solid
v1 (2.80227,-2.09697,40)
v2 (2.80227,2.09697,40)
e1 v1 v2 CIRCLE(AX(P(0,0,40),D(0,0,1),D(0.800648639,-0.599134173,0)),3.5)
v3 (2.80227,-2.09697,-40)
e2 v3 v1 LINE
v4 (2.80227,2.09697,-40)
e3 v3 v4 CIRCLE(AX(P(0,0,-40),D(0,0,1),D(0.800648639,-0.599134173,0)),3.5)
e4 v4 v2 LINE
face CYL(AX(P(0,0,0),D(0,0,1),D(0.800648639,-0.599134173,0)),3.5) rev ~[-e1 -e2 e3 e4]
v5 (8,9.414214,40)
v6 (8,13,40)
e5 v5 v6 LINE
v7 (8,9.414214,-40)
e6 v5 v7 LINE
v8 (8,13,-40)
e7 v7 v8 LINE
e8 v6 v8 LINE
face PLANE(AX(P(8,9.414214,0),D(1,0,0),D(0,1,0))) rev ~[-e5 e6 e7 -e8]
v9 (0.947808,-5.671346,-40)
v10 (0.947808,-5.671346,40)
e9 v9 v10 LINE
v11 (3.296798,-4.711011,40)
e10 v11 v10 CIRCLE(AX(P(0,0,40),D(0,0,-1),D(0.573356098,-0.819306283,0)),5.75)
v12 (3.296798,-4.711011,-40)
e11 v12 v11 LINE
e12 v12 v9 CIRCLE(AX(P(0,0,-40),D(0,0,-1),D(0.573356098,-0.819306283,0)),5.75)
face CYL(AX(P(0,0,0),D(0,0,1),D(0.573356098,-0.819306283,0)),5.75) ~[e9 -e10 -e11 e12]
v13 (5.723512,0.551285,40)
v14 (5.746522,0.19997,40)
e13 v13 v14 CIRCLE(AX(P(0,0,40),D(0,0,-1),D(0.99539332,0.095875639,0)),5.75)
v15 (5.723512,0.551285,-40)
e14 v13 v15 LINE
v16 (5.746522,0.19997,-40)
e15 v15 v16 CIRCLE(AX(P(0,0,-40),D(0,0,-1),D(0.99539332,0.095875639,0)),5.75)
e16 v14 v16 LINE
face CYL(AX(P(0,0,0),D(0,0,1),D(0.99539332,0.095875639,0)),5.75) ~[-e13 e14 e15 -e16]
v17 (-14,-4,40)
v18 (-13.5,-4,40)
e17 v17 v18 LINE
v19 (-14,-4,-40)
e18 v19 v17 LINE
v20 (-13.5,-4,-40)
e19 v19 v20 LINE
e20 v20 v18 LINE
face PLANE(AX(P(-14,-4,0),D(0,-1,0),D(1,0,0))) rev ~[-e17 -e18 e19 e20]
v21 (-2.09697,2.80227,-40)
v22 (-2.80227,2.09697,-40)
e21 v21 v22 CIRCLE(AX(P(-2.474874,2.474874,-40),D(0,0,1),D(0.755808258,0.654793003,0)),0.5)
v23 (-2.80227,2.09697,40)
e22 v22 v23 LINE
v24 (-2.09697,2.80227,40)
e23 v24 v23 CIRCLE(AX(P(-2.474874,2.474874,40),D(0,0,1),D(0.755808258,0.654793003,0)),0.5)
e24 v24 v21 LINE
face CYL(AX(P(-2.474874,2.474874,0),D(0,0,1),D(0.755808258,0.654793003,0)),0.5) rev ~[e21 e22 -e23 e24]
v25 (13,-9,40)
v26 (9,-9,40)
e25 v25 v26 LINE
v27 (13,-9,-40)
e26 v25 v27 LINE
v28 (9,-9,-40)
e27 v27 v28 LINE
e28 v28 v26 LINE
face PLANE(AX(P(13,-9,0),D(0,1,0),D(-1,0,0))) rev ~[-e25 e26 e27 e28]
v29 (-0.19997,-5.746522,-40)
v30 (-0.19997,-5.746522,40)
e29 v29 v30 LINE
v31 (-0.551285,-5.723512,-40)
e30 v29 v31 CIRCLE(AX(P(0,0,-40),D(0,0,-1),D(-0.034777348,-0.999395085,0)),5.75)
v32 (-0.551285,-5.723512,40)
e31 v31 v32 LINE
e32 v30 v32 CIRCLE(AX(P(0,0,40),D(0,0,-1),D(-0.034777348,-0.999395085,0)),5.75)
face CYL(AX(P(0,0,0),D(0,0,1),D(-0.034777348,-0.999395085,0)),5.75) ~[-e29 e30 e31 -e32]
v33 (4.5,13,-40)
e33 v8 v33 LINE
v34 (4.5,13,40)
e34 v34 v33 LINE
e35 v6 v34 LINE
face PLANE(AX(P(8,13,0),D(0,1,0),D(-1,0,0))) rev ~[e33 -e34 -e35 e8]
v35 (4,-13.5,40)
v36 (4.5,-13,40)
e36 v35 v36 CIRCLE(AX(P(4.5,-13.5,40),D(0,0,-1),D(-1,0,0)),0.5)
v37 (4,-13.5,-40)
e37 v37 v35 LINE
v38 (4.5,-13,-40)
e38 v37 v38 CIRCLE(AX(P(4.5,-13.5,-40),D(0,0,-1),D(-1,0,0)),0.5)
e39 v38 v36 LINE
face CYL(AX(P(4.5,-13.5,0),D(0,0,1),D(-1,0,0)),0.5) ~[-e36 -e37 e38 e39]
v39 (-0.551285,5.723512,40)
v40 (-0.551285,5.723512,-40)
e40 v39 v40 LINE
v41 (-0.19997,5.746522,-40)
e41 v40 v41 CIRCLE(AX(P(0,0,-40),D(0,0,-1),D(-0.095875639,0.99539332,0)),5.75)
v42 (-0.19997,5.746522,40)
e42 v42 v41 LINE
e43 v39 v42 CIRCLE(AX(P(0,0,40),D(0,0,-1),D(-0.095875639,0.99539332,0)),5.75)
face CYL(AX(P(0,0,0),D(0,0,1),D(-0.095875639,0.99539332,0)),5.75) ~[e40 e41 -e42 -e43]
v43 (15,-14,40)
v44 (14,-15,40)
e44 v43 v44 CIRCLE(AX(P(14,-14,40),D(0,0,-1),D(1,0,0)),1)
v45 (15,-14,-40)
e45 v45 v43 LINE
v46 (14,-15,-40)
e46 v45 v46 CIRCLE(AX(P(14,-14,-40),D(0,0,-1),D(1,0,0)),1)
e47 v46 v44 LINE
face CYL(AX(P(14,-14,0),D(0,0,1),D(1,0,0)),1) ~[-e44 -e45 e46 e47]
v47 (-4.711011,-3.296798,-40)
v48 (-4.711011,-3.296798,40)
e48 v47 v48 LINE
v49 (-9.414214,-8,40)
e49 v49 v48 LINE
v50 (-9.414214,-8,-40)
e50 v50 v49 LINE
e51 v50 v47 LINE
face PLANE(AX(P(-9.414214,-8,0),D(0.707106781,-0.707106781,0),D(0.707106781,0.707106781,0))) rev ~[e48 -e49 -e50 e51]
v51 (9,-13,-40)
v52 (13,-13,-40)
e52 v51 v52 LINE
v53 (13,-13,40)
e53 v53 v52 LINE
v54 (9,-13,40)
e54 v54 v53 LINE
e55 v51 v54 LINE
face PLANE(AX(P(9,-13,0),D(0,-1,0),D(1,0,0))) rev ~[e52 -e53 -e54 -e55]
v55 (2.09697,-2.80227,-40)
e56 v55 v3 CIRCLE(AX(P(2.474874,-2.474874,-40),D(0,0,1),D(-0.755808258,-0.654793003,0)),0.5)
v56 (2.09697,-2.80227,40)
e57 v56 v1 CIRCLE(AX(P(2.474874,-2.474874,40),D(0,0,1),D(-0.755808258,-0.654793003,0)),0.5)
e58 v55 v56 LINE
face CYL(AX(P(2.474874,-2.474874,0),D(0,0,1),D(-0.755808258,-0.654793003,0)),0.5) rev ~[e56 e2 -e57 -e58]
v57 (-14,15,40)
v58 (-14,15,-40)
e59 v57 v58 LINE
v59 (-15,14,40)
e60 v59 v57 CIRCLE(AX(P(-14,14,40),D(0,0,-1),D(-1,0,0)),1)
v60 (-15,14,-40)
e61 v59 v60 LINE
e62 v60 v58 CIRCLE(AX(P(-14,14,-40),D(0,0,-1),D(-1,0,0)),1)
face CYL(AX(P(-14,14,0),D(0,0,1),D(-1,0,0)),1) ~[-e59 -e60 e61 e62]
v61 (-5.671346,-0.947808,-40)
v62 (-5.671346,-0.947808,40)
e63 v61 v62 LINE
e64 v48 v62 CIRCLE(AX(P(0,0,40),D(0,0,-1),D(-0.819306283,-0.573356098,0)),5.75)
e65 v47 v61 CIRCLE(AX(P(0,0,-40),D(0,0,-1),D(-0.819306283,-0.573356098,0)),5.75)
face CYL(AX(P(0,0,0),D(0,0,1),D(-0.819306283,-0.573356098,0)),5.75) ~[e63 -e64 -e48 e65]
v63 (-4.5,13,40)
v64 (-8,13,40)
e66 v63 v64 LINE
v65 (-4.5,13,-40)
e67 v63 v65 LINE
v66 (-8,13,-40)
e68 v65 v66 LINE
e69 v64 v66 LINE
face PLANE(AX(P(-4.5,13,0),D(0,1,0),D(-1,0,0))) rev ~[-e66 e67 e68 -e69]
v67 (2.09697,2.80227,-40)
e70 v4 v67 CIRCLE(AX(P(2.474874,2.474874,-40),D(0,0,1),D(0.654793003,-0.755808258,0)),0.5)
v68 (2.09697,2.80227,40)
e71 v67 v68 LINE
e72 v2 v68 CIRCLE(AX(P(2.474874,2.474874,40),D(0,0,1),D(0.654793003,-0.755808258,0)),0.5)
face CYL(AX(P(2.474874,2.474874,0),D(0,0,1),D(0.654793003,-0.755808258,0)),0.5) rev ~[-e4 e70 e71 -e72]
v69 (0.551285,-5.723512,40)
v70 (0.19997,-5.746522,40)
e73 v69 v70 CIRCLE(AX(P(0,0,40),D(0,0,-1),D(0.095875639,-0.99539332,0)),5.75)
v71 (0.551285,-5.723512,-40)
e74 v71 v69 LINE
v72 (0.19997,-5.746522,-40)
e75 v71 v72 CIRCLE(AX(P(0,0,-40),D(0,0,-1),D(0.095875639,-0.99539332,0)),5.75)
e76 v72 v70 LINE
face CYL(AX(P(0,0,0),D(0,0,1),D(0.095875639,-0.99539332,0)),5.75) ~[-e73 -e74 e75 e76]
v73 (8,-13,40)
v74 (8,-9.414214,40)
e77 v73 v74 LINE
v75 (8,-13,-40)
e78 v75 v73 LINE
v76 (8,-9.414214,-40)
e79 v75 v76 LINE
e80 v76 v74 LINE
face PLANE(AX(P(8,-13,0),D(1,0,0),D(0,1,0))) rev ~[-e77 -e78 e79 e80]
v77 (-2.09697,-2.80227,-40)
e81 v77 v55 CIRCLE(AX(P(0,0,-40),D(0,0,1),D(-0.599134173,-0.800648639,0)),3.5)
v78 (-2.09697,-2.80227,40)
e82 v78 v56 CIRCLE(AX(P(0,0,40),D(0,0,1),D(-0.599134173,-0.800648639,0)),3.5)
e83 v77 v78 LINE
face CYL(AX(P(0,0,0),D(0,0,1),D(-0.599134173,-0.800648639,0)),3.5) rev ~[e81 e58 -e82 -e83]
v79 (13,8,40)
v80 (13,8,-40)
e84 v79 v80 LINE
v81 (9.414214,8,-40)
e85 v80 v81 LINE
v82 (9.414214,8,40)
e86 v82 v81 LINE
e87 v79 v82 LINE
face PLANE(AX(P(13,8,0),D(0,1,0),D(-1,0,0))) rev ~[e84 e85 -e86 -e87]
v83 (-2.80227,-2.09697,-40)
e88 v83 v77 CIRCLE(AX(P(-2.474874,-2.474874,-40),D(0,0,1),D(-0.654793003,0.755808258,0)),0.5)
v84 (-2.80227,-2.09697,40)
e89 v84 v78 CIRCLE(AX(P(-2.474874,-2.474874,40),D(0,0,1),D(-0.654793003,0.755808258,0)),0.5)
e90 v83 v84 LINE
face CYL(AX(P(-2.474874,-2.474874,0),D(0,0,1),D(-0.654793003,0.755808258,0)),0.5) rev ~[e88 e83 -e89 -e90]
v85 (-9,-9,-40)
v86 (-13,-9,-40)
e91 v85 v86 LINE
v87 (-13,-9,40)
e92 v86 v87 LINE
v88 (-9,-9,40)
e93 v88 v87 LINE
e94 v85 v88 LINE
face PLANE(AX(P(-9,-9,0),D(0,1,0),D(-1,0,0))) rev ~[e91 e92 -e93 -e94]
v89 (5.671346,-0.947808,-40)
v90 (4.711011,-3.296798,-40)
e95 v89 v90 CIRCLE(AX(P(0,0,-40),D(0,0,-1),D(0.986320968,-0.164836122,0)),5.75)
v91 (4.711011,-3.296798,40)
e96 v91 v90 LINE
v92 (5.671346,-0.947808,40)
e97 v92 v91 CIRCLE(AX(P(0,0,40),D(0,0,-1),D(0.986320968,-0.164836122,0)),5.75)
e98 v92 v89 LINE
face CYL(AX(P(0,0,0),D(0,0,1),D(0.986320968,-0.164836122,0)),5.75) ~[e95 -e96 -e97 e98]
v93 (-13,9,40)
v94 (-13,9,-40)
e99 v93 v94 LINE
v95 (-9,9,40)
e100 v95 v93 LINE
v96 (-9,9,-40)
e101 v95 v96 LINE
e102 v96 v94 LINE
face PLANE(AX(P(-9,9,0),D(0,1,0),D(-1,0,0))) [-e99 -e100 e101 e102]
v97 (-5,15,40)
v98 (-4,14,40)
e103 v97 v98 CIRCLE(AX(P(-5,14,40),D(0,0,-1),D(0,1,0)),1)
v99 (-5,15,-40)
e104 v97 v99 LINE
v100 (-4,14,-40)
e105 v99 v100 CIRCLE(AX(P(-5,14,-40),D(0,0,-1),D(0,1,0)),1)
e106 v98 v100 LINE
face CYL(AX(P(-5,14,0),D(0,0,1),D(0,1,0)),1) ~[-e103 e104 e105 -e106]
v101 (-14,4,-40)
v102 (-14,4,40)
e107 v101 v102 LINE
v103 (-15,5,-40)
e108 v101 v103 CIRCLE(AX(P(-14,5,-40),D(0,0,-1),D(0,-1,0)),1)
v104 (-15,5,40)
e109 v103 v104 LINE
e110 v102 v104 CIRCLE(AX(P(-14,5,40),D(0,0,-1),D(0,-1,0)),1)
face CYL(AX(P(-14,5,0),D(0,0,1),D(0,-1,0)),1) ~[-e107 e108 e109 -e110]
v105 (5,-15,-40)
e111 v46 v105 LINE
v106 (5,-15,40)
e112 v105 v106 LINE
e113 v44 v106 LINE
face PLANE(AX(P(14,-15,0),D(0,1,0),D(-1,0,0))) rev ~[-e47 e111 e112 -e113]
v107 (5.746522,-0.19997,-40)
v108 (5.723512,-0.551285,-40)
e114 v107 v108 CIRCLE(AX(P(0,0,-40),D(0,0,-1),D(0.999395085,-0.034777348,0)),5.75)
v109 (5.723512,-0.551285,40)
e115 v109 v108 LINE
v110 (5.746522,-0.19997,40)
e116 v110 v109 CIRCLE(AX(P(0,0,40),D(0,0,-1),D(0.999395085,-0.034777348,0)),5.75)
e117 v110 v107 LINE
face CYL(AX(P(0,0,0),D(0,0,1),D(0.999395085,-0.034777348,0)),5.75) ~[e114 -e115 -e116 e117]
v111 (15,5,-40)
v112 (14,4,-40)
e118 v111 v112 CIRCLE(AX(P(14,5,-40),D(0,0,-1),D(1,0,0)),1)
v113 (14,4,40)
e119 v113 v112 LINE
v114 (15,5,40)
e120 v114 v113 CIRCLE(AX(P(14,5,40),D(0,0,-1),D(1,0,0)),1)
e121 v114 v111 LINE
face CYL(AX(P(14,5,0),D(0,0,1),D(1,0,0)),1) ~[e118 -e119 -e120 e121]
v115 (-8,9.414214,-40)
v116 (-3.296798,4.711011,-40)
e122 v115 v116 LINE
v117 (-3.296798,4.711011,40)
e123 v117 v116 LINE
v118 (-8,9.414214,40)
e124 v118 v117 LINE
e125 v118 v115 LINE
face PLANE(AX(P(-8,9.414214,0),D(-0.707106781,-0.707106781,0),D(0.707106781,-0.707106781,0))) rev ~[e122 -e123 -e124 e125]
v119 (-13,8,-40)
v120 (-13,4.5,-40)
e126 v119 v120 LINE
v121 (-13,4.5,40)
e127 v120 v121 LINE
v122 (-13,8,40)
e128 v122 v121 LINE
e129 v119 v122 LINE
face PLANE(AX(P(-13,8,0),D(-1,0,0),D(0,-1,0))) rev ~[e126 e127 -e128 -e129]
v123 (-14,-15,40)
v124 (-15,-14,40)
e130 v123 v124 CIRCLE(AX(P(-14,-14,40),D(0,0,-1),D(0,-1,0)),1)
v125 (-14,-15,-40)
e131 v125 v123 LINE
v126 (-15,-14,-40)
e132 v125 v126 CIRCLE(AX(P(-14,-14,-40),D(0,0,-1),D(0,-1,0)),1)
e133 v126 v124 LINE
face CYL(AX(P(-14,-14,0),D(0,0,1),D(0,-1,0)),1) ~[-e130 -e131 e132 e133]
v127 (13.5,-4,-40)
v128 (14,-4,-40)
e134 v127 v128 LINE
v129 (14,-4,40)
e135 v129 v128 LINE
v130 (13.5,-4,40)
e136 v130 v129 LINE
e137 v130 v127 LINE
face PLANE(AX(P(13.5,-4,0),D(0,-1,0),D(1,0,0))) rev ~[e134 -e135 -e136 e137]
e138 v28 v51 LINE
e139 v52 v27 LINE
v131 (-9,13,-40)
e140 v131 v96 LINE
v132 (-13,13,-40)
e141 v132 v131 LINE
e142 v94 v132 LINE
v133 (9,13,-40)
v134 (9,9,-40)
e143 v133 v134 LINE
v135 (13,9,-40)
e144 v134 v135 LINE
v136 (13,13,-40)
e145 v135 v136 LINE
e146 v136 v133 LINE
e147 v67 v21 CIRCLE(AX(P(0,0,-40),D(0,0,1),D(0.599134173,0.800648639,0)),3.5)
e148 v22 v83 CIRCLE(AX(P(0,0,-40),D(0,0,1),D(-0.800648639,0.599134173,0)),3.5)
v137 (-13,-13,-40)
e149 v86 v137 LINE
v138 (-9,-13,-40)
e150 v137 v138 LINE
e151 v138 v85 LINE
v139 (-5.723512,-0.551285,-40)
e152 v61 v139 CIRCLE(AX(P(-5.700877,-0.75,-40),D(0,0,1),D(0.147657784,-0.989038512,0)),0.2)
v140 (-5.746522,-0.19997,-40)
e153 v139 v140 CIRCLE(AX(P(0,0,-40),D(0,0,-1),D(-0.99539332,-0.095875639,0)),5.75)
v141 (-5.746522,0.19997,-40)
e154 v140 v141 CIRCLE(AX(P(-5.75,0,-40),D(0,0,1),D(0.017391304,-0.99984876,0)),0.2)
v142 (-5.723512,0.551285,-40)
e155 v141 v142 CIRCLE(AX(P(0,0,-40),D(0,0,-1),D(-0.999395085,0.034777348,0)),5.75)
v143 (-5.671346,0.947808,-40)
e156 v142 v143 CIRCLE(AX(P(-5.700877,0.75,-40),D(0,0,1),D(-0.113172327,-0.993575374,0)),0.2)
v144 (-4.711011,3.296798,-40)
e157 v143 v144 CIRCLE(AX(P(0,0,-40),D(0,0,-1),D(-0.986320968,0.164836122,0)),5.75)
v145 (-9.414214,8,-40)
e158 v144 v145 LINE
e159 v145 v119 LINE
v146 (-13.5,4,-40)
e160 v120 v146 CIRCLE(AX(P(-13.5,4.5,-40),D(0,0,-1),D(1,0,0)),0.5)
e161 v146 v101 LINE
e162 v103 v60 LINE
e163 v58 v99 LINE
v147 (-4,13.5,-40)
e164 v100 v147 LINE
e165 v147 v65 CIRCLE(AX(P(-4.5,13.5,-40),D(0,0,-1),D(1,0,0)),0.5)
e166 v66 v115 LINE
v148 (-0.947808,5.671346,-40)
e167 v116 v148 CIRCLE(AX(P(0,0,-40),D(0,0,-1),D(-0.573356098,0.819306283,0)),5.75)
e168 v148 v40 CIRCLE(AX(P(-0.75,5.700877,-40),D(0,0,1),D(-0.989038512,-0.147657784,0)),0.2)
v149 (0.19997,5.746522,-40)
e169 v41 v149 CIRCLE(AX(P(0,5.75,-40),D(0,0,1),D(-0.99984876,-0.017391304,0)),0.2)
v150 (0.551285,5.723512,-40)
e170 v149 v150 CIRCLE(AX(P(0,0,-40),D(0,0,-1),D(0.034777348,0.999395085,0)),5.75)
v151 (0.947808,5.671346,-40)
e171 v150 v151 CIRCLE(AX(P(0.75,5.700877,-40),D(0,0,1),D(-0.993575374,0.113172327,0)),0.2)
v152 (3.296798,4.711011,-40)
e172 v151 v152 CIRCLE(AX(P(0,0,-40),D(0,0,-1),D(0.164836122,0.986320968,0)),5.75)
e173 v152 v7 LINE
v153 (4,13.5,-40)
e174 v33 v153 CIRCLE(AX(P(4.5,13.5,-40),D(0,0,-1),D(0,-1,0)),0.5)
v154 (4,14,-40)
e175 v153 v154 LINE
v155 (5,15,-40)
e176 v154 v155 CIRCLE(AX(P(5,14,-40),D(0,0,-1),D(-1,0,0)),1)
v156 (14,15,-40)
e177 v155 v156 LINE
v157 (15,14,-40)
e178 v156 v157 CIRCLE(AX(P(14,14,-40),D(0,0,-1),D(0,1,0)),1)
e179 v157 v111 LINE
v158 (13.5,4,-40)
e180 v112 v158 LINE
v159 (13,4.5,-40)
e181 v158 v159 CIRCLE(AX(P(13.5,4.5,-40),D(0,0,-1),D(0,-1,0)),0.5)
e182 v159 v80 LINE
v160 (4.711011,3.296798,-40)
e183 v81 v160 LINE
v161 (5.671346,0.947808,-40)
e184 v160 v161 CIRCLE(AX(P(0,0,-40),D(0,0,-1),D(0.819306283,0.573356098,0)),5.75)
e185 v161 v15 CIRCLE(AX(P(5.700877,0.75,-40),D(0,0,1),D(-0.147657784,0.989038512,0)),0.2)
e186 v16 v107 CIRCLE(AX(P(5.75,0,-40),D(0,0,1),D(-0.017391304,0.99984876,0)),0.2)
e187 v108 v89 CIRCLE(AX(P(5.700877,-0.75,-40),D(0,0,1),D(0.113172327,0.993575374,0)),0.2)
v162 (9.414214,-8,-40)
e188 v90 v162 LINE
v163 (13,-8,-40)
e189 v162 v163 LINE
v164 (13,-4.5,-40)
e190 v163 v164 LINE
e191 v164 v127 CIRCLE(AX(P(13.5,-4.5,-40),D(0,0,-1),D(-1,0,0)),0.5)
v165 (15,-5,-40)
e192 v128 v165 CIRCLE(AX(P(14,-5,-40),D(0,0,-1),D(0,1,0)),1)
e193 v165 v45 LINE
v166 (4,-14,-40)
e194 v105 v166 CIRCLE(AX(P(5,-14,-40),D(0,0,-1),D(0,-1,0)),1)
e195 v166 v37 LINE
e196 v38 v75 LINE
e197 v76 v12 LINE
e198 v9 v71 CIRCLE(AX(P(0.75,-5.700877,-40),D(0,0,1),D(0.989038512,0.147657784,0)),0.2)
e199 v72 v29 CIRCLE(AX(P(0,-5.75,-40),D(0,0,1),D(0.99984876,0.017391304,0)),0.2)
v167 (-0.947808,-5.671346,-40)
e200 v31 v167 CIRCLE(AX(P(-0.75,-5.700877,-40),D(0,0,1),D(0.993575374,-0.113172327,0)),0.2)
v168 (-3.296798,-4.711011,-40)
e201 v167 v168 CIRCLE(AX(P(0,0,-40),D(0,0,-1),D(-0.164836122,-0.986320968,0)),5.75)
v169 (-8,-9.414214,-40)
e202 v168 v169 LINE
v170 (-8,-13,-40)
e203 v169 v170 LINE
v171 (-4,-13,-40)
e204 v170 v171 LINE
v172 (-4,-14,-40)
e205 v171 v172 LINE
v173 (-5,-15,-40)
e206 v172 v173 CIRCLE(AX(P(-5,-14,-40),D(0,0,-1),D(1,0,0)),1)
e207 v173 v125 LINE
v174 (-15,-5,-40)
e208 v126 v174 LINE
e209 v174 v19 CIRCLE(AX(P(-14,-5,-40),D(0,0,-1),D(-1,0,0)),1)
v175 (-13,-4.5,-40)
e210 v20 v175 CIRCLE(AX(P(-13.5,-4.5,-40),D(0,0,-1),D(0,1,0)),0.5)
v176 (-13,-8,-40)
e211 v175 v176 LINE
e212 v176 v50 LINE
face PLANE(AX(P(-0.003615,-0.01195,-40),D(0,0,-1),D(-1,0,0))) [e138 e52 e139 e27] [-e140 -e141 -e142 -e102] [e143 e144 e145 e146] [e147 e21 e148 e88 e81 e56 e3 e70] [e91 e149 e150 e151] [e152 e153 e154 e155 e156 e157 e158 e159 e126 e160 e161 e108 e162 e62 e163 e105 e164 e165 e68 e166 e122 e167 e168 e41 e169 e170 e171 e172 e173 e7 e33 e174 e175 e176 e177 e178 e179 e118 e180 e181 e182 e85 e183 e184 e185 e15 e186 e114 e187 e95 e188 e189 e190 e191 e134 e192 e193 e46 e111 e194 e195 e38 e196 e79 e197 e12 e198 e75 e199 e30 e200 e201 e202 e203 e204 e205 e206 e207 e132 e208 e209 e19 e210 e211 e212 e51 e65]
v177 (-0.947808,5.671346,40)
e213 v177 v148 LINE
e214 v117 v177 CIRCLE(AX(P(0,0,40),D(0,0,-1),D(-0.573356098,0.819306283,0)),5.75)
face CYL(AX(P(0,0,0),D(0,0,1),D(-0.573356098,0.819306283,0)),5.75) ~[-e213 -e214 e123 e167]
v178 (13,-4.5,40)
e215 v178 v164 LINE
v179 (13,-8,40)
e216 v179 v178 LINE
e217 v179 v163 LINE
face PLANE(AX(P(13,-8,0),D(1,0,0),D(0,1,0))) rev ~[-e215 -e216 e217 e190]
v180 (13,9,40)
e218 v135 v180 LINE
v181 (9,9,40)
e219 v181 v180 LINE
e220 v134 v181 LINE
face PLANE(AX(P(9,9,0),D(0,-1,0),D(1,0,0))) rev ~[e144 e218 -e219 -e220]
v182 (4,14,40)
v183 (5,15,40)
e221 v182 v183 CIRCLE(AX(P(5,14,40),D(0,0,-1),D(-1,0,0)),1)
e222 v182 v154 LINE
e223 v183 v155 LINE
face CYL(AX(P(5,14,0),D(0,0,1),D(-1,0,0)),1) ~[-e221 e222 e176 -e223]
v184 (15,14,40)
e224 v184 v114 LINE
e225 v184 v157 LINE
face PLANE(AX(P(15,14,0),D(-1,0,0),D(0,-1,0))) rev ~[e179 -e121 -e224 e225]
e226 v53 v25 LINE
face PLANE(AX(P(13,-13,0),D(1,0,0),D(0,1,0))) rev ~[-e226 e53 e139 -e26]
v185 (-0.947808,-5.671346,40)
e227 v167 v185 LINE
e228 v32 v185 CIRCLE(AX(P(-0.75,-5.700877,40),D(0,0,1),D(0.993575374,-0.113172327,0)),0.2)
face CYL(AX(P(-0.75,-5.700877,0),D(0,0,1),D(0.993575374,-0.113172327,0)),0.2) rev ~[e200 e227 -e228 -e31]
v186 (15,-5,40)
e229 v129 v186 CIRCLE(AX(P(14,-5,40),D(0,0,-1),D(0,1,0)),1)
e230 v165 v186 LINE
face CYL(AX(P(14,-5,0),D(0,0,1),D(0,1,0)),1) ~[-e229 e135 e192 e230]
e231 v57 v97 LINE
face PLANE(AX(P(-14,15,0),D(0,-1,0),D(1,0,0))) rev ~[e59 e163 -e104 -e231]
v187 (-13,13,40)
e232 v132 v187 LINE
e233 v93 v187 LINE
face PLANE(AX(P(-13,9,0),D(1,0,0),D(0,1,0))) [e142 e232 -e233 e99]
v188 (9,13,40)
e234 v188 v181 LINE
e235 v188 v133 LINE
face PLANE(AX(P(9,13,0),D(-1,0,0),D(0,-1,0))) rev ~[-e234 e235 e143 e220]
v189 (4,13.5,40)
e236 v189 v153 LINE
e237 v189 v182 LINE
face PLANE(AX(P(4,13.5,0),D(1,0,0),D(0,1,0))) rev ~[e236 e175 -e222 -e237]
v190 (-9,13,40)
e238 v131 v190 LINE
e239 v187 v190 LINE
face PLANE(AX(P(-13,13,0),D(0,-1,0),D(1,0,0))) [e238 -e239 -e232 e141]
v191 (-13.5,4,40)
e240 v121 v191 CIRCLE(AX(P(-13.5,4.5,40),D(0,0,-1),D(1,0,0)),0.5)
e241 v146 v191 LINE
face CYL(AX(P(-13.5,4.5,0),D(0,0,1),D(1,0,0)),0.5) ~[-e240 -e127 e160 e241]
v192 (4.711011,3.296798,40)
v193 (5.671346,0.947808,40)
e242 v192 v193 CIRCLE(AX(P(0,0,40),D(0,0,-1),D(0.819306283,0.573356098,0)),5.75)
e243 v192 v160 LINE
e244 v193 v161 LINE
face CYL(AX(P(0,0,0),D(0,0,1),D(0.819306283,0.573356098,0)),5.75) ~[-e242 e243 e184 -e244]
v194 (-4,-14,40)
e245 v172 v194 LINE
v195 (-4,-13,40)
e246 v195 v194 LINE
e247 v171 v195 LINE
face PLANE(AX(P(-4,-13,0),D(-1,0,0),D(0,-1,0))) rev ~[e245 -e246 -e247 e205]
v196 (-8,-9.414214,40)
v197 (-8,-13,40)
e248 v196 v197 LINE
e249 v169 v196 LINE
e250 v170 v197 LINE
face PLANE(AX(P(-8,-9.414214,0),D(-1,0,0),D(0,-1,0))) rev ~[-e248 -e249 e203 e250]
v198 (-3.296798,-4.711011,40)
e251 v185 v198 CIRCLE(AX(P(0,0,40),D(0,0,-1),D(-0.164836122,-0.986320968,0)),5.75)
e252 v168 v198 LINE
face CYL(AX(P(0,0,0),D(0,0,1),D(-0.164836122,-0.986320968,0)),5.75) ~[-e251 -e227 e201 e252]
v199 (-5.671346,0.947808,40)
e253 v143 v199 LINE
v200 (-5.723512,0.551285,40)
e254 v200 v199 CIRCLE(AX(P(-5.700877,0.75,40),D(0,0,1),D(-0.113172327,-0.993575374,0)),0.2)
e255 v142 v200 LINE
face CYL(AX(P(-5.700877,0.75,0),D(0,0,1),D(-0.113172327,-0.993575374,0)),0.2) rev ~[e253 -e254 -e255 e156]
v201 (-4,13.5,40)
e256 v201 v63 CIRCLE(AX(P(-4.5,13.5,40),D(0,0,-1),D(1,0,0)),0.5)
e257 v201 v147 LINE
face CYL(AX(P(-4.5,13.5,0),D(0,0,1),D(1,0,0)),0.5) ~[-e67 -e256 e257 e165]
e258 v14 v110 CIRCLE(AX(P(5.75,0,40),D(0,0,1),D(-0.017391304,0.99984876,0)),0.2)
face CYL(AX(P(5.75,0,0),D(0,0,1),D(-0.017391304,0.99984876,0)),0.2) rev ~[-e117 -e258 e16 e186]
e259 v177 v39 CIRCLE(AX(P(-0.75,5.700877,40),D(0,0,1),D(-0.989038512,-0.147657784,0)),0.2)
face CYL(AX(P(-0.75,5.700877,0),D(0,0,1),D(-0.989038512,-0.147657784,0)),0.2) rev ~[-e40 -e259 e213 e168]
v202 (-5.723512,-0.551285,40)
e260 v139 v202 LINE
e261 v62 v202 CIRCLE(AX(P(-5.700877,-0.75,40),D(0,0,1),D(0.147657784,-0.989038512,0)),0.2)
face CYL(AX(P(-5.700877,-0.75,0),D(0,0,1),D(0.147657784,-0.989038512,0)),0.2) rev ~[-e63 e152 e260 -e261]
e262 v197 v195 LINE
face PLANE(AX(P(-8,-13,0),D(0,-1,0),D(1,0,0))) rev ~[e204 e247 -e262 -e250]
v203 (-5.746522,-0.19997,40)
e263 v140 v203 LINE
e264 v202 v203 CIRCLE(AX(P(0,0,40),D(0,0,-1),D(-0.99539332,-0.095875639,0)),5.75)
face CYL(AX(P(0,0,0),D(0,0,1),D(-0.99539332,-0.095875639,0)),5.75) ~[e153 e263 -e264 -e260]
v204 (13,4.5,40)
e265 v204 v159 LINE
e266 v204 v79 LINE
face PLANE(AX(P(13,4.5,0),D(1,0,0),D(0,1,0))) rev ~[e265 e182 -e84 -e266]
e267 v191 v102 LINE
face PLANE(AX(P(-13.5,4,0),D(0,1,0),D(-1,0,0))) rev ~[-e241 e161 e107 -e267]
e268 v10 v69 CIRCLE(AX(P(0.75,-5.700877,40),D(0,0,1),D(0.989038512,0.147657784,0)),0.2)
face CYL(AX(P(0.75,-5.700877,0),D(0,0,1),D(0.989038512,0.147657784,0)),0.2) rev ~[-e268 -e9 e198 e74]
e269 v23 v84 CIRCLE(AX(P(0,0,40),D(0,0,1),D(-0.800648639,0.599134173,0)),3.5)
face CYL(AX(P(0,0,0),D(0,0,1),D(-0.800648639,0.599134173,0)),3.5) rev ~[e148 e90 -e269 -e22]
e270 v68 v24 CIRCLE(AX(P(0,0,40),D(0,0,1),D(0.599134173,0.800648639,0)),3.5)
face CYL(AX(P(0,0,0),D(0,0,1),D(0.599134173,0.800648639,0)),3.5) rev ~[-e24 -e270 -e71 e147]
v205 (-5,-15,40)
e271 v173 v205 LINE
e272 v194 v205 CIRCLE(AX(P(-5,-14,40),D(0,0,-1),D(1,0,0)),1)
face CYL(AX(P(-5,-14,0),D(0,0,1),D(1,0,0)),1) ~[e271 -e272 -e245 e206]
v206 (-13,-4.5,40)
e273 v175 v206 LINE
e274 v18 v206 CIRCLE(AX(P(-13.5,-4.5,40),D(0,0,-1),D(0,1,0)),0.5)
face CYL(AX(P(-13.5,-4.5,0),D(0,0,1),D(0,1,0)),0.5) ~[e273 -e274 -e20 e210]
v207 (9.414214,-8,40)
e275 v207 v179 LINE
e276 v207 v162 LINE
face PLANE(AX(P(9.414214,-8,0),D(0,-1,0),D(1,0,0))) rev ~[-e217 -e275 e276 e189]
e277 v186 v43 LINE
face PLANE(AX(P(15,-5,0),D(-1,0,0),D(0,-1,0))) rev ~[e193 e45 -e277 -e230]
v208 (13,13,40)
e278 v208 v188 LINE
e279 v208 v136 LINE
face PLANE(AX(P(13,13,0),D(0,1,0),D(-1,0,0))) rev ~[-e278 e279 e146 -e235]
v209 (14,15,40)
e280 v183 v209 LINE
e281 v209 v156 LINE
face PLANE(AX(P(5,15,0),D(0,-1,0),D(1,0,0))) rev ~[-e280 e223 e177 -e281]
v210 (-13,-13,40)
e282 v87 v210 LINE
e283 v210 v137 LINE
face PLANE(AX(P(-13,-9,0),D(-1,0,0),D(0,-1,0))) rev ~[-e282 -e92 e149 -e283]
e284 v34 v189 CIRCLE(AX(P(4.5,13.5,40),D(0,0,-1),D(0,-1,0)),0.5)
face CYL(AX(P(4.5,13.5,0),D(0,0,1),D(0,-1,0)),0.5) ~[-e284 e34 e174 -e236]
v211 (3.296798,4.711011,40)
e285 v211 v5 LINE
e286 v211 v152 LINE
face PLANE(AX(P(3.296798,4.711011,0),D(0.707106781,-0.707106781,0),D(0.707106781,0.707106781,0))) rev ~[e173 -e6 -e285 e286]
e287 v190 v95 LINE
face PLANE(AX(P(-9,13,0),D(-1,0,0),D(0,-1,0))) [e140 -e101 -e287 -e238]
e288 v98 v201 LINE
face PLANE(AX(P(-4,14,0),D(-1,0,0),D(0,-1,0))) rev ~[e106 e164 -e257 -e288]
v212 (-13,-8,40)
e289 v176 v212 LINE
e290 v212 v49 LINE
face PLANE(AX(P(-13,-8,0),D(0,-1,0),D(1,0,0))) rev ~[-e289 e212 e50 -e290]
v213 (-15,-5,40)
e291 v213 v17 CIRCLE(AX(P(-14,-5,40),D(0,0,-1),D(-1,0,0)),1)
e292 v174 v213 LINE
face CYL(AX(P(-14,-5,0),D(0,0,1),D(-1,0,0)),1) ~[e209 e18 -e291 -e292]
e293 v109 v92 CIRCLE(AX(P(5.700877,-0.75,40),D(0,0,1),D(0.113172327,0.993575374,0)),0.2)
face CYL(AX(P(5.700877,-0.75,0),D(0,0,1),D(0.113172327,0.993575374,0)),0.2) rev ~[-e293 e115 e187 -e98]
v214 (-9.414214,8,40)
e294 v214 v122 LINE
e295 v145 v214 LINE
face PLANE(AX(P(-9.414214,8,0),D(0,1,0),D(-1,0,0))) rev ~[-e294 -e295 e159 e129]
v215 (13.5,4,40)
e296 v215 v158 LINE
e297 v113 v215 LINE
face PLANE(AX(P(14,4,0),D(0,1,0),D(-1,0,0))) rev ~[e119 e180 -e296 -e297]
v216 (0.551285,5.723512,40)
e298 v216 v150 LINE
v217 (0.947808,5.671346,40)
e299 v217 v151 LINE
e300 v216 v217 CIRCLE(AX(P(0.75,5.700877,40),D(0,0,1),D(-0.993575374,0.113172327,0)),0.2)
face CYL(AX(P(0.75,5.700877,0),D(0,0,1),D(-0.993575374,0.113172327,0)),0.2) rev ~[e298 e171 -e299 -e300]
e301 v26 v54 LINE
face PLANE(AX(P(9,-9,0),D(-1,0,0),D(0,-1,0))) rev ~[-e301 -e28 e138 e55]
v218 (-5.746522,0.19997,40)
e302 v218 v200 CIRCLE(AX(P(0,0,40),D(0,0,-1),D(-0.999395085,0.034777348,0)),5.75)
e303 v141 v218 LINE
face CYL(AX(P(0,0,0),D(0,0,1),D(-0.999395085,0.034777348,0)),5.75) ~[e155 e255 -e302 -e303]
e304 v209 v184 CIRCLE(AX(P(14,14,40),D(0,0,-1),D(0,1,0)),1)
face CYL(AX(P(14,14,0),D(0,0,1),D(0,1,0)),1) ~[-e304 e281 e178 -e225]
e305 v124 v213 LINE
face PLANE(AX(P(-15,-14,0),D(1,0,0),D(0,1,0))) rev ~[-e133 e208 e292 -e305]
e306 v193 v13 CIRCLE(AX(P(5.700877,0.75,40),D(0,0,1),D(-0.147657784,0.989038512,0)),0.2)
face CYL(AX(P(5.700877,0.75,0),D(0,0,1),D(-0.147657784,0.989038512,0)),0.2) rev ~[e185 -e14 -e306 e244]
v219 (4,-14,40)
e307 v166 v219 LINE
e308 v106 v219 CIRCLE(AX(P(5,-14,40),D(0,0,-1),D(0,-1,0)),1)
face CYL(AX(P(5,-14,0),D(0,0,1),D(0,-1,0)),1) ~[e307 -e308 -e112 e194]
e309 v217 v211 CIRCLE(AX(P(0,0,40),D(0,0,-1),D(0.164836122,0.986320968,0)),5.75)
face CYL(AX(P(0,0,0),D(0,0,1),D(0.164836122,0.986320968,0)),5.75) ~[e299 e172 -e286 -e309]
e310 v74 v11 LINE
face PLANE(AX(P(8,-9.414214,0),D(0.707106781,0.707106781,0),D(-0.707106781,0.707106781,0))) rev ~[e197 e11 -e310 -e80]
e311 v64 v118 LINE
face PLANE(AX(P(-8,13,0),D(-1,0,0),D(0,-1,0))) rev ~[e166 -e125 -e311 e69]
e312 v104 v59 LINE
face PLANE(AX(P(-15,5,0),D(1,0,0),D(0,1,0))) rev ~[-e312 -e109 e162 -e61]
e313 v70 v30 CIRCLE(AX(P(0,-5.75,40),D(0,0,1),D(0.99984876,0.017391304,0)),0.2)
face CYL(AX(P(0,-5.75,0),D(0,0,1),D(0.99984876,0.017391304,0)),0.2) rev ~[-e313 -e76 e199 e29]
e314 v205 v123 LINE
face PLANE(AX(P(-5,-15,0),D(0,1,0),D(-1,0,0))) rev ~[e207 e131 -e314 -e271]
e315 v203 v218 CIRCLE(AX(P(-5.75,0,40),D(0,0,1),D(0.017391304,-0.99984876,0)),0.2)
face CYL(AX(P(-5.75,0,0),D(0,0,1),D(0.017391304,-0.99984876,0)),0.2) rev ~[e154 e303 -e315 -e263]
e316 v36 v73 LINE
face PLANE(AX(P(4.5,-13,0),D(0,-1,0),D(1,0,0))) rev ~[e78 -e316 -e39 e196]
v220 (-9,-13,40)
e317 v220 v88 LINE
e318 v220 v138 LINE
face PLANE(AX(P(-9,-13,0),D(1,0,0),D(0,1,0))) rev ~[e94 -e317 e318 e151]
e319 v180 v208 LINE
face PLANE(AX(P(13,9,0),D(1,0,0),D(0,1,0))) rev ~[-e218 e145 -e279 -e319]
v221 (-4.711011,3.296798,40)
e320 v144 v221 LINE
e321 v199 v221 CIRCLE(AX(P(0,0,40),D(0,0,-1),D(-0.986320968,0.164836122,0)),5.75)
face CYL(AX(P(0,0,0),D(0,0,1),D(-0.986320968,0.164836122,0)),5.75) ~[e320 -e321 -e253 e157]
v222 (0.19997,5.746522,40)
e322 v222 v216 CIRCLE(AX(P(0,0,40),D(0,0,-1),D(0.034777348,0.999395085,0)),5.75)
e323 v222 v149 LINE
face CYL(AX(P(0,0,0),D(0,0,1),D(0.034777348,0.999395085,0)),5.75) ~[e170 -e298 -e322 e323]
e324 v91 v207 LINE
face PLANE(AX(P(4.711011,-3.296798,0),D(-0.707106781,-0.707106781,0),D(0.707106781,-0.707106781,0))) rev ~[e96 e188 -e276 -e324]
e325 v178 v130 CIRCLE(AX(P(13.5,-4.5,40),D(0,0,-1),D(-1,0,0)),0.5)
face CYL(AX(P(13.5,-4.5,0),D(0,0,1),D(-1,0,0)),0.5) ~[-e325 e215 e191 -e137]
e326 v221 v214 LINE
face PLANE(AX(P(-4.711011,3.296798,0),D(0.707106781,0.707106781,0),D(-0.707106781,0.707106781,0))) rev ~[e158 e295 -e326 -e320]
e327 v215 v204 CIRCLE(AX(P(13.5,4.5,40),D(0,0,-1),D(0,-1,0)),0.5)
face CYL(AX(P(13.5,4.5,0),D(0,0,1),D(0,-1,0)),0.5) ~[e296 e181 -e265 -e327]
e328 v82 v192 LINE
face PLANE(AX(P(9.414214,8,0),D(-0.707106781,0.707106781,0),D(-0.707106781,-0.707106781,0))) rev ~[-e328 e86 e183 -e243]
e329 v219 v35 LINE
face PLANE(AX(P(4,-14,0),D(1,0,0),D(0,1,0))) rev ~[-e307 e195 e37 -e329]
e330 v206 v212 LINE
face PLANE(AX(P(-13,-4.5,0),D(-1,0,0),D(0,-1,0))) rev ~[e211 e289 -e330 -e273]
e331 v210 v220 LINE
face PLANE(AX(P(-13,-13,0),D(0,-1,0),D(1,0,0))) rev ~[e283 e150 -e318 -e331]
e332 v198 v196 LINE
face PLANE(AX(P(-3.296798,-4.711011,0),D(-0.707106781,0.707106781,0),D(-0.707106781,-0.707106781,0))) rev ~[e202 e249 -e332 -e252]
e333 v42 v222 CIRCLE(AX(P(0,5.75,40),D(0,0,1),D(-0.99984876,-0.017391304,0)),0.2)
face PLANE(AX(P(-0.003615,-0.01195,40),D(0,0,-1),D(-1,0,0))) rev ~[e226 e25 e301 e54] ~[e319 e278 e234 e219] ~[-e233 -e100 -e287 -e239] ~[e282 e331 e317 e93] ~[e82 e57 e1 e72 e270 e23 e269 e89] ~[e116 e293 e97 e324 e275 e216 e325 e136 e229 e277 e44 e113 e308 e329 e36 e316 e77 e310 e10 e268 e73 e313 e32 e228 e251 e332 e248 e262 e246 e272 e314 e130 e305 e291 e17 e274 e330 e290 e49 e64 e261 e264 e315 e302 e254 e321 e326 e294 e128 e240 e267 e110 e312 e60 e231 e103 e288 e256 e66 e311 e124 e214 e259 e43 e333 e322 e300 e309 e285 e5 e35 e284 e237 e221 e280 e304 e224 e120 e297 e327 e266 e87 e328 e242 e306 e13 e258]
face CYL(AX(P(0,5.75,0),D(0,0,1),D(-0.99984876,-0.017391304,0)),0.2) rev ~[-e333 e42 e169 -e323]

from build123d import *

# Parameters (mm, degrees)
BOSS_EXTRUDE1_DEPTH = 40


with BuildPart() as part:
    # Sketch1 → Boss-Extrude1 (new, symmetric)
    with BuildSketch(Plane.XY):
        with BuildLine():
            Line((-15, 5.000000000000009), (-15, 13.999999999999993))
            ThreePointArc((-15, 13.999999999999993), (-14.707106781186548, 14.70710678118655), (-13.999999999999991, 15.000000000000002))
            Line((-13.999999999999991, 15.000000000000002), (-5.000000000000007, 15.000000000000002))
            ThreePointArc((-5.000000000000007, 15.000000000000002), (-4.292893218813452, 14.707106781186548), (-4, 13.999999999999993))
            Line((-4, 13.999999999999993), (-4, 13.500000000000004))
            ThreePointArc((-4, 13.500000000000004), (-4.146446609406727, 13.146446609406725), (-4.500000000000005, 13))
            Line((-4.500000000000005, 13), (-8.000000000000005, 13.000000000000016))
            Line((-8.000000000000005, 13.000000000000016), (-7.999999999999849, 9.414213562373025))
            Line((-7.999999999999849, 9.414213562373025), (-3.2967975633251787, 4.711011125698298))
            ThreePointArc((-3.2967975633251787, 4.711011125698298), (-2.175943249756075, 5.3223839558829855), (-0.9478077024559322, 5.67134556866048))
            ThreePointArc((-0.9478077024559322, 5.67134556866048), (-0.7239130434782917, 5.502585747217556), (-0.5512849251433612, 5.72351159091246))
            ThreePointArc((-0.5512849251433612, 5.72351159091246), (-0.3758034914685008, 5.737706138850234), (-0.1999697519659725, 5.746521739130396))
            ThreePointArc((-0.1999697519659725, 5.746521739130396), (-0.14018621156536692, 5.607354193587874), (-2.429e-14, 5.549999999999962))
            ThreePointArc((-2.429e-14, 5.549999999999962), (0.14018621156537447, 5.607354193587863), (0.1999697519659689, 5.746521739130433))
            ThreePointArc((0.1999697519659689, 5.746521739130433), (0.37580349146849373, 5.737706138850271), (0.5512849251433537, 5.723511590912496))
            ThreePointArc((0.5512849251433537, 5.723511590912496), (0.7239130434782822, 5.502585747217588), (0.9478077024559303, 5.671345568660512))
            ThreePointArc((0.9478077024559303, 5.671345568660512), (2.1759432497560995, 5.32238395588301), (3.2967975633252076, 4.711011125698281))
            Line((3.2967975633252076, 4.711011125698281), (8.000000000000027, 9.414213562373071))
            Line((8.000000000000027, 9.414213562373071), (8.000000000000039, 12.999999999999977))
            Line((8.000000000000039, 12.999999999999977), (4.500000000000051, 12.999999999999986))
            ThreePointArc((4.500000000000051, 12.999999999999986), (4.146446609406774, 13.146446609406713), (4.000000000000049, 13.499999999999991))
            Line((4.000000000000049, 13.499999999999991), (4.000000000000051, 13.999999999999977))
            ThreePointArc((4.000000000000051, 13.999999999999977), (4.292893218813505, 14.70710678118653), (5.00000000000006, 14.999999999999982))
            Line((5.00000000000006, 14.999999999999982), (14.000000000000046, 14.99999999999995))
            ThreePointArc((14.000000000000046, 14.99999999999995), (14.7071067811866, 14.707106781186495), (15.00000000000005, 13.99999999999994))
            Line((15.00000000000005, 13.99999999999994), (15.000000000000018, 4.999999999999955))
            ThreePointArc((15.000000000000018, 4.999999999999955), (14.707106781186562, 4.2928932188134015), (14.000000000000007, 3.9999999999999516))
            Line((14.000000000000007, 3.9999999999999516), (13.500000000000018, 3.9999999999999534))
            ThreePointArc((13.500000000000018, 3.9999999999999534), (13.146446609406741, 4.146446609406682), (13.000000000000014, 4.499999999999961))
            Line((13.000000000000014, 4.499999999999961), (13.000000000000044, 7.99999999999996))
            Line((13.000000000000044, 7.99999999999996), (9.414213562373115, 7.9999999999999725))
            Line((9.414213562373115, 7.9999999999999725), (4.711011125698292, 3.2967975633251885))
            ThreePointArc((4.711011125698292, 3.2967975633251885), (5.322383955882988, 2.1759432497560716), (5.671345568660484, 0.9478077024559123))
            ThreePointArc((5.671345568660484, 0.9478077024559123), (5.502585747217559, 0.7239130434782725), (5.723511590912461, 0.5512849251433413))
            ThreePointArc((5.723511590912461, 0.5512849251433413), (5.7377061388502355, 0.37580349146848013), (5.746521739130397, 0.19996975196595243))
            ThreePointArc((5.746521739130397, 0.19996975196595243), (5.607354193587875, 0.14018621156534747), (5.549999999999962, 4.91e-15))
            ThreePointArc((5.549999999999962, 4.91e-15), (5.60735419358786, -0.1401862115653925), (5.746521739130428, -0.1999697519659527))
            ThreePointArc((5.746521739130428, -0.1999697519659527), (5.737706138850272, -0.3758034914684969), (5.723511590912494, -0.5512849251433738))
            ThreePointArc((5.723511590912494, -0.5512849251433738), (5.502585747217585, -0.7239130434783013), (5.6713455686605085, -0.94780770245595))
            ThreePointArc((5.6713455686605085, -0.94780770245595), (5.3223839558830015, -2.175943249756118), (4.711011125698269, -3.296797563325224))
            Line((4.711011125698269, -3.296797563325224), (9.414213562373133, -7.999999999999714))
            Line((9.414213562373133, -7.999999999999714), (13.000000000000002, -7.99999999999998))
            Line((13.000000000000002, -7.99999999999998), (12.999999999999952, -4.499999999999787))
            ThreePointArc((12.999999999999952, -4.499999999999787), (13.146446609406702, -4.146446609406478), (13.50000000000003, -3.999999999999776))
            Line((13.50000000000003, -3.999999999999776), (14.000000000000144, -3.9999999999998517))
            ThreePointArc((14.000000000000144, -3.9999999999998517), (14.707106781186603, -4.292893218813357), (15.000000000000002, -4.999999999999859))
            Line((15.000000000000002, -4.999999999999859), (15.000000000000004, -14.000000000000002))
            ThreePointArc((15.000000000000004, -14.000000000000002), (14.70710678118655, -14.707106781186548), (14.000000000000004, -15.000000000000004))
            Line((14.000000000000004, -15.000000000000004), (5.000000000000161, -15.000000000000002))
            ThreePointArc((5.000000000000161, -15.000000000000002), (4.2928932188135525, -14.707106781186496), (4.000000000000154, -13.999999999999844))
            Line((4.000000000000154, -13.999999999999844), (4.000000000000229, -13.499999999999826))
            ThreePointArc((4.000000000000229, -13.499999999999826), (4.146446609406977, -13.1464466094066), (4.500000000000221, -12.999999999999897))
            Line((4.500000000000221, -12.999999999999897), (8.000000000000153, -12.999999999999817))
            Line((8.000000000000153, -12.999999999999817), (7.99999999999994, -9.414213562373144))
            Line((7.99999999999994, -9.414213562373144), (3.296797563325172, -4.711011125698304))
            ThreePointArc((3.296797563325172, -4.711011125698304), (2.175943249756054, -5.322383955882996), (0.9478077024558925, -5.671345568660487))
            ThreePointArc((0.9478077024558925, -5.671345568660487), (0.7239130434782536, -5.502585747217561), (0.5512849251433212, -5.723511590912463))
            ThreePointArc((0.5512849251433212, -5.723511590912463), (0.3758034914684597, -5.7377061388502355), (0.19996975196593236, -5.746521739130398))
            ThreePointArc((0.19996975196593236, -5.746521739130398), (0.14018621156532793, -5.6073541935878755), (-1.447e-14, -5.549999999999962))
            ThreePointArc((-1.447e-14, -5.549999999999962), (-0.14018621156541247, -5.60735419358786), (-0.19996975196595235, -5.746521739130428))
            ThreePointArc((-0.19996975196595235, -5.746521739130428), (-0.37580349146850606, -5.737706138850271), (-0.5512849251433938, -5.723511590912492))
            ThreePointArc((-0.5512849251433938, -5.723511590912492), (-0.7239130434783215, -5.502585747217583), (-0.9478077024559699, -5.671345568660507))
            ThreePointArc((-0.9478077024559699, -5.671345568660507), (-2.175943249756137, -5.322383955882994), (-3.2967975633252404, -4.711011125698258))
            Line((-3.2967975633252404, -4.711011125698258), (-7.99999999999998, -9.414213562373098))
            Line((-7.99999999999998, -9.414213562373098), (-7.99999999999998, -13.000000000000002))
            Line((-7.99999999999998, -13.000000000000002), (-4.000000000000001, -13.000000000000002))
            Line((-4.000000000000001, -13.000000000000002), (-4.000000000000001, -13.999999999999995))
            ThreePointArc((-4.000000000000001, -13.999999999999995), (-4.292893218813453, -14.70710678118655), (-5.000000000000008, -15.000000000000002))
            Line((-5.000000000000008, -15.000000000000002), (-13.999999999999998, -15.000000000000004))
            ThreePointArc((-13.999999999999998, -15.000000000000004), (-14.707106781186546, -14.707106781186553), (-15.000000000000004, -14.000000000000005))
            Line((-15.000000000000004, -14.000000000000005), (-15.000000000000002, -5.0000000000000115))
            ThreePointArc((-15.000000000000002, -5.0000000000000115), (-14.70710678118655, -4.292893218813457), (-13.999999999999995, -4.000000000000004))
            Line((-13.999999999999995, -4.000000000000004), (-13.500000000000007, -4.000000000000004))
            ThreePointArc((-13.500000000000007, -4.000000000000004), (-13.14644660940673, -4.1464466094067305), (-13.000000000000004, -4.500000000000007))
            Line((-13.000000000000004, -4.500000000000007), (-13.000000000000002, -8.000000000000002))
            Line((-13.000000000000002, -8.000000000000002), (-9.414213562373073, -8))
            Line((-9.414213562373073, -8), (-4.711011125698316, -3.2967975633251556))
            ThreePointArc((-4.711011125698316, -3.2967975633251556), (-5.322383955883002, -2.175943249756036), (-5.67134556866049, -0.9478077024558731))
            ThreePointArc((-5.67134556866049, -0.9478077024558731), (-5.502585747217563, -0.7239130434782345), (-5.723511590912465, -0.5512849251433016))
            ThreePointArc((-5.723511590912465, -0.5512849251433016), (-5.737706138850236, -0.3758034914684416), (-5.746521739130398, -0.1999697519659127))
            ThreePointArc((-5.746521739130398, -0.1999697519659127), (-5.607354193587914, -0.1401862115652944), (-5.549999999999999, -2.5e-16))
            ThreePointArc((-5.549999999999999, -2.5e-16), (-5.607354193587905, 0.1401862115653443), (-5.746521739130434, 0.19996975196594882))
            ThreePointArc((-5.746521739130434, 0.19996975196594882), (-5.737706138850273, 0.375803491468473), (-5.723511590912498, 0.5512849251433337))
            ThreePointArc((-5.723511590912498, 0.5512849251433337), (-5.502585747217591, 0.7239130434782631), (-5.671345568660516, 0.9478077024559104))
            ThreePointArc((-5.671345568660516, 0.9478077024559104), (-5.322383955883011, 2.17594324975609), (-4.711011125698278, 3.29679756332521))
            Line((-4.711011125698278, 3.29679756332521), (-9.414213562372948, 7.9999999999999325))
            Line((-9.414213562372948, 7.9999999999999325), (-13.000000000000005, 7.999999999999993))
            Line((-13.000000000000005, 7.999999999999993), (-13.000000000000002, 4.500000000000005))
            ThreePointArc((-13.000000000000002, 4.500000000000005), (-13.146446609406727, 4.146446609406728), (-13.500000000000005, 4.000000000000002))
            Line((-13.500000000000005, 4.000000000000002), (-13.999999999999991, 4.000000000000002))
            ThreePointArc((-13.999999999999991, 4.000000000000002), (-14.707106781186546, 4.292893218813454), (-15, 5.000000000000009))
        make_face()
        Polygon((-13.000000000000007, 9.000000000000016), (-12.999999999999853, 13.000000000000005), (-9.000000000000007, 13.000000000000016), (-8.999999999999853, 8.999999999999956), align=None, mode=Mode.SUBTRACT)
        Polygon((13.000000000000043, 12.999999999999956), (9.000000000000062, 12.999999999999975), (9.000000000000048, 8.999999999999975), (13.000000000000048, 8.999999999999961), align=None, mode=Mode.SUBTRACT)
        Polygon((13.000000000000004, -13.000000000000002), (13.000000000000004, -9.000000000000004), (9.000000000000062, -8.999999999999746), (9.000000000000105, -12.99999999999975), align=None, mode=Mode.SUBTRACT)
        Polygon((-13.000000000000002, -13.000000000000004), (-9.000000000000004, -13.000000000000004), (-9.000000000000004, -9.000000000000005), (-13, -9.000000000000007), align=None, mode=Mode.SUBTRACT)
        with BuildLine():
            ThreePointArc((3e-16, 3.5000000000000018), (-1.105000944452059, 3.320989748969435), (-2.096969605215332, 2.8022702358628915))
            ThreePointArc((-2.096969605215332, 2.8022702358628915), (-2.8284271247461614, 2.8284271247461947), (-2.8022702358628897, 2.0969696052153344))
            ThreePointArc((-2.8022702358628897, 2.0969696052153344), (-3.320989748969433, 1.1050009444520614), (-3.5, 1.73e-15))
            ThreePointArc((-3.5, 1.73e-15), (-3.320989748969439, -1.1050009444520394), (-2.8022702358629137, -2.096969605215303))
            ThreePointArc((-2.8022702358629137, -2.096969605215303), (-2.828427124746224, -2.8284271247461628), (-2.0969696052153637, -2.802270235862868))
            ThreePointArc((-2.0969696052153637, -2.802270235862868), (-1.1050009444520896, -3.3209897489694247), (-2.474e-14, -3.5000000000000018))
            ThreePointArc((-2.474e-14, -3.5000000000000018), (1.1050009444520363, -3.3209897489694424), (2.0969696052153126, -2.8022702358629066))
            ThreePointArc((2.0969696052153126, -2.8022702358629066), (2.8284271247461725, -2.828427124746214), (2.8022702358628746, -2.096969605215354))
            ThreePointArc((2.8022702358628746, -2.096969605215354), (3.3209897489694282, -1.1050009444520785), (3.5000000000000018, -1.252e-14))
            ThreePointArc((3.5000000000000018, -1.252e-14), (3.320989748969439, 1.1050009444520479), (2.802270235862899, 2.096969605215322))
            ThreePointArc((2.802270235862899, 2.096969605215322), (2.828427124746204, 2.828427124746182), (2.096969605215344, 2.802270235862882))
            ThreePointArc((2.096969605215344, 2.802270235862882), (1.1050009444520668, 3.320989748969432), (3e-16, 3.5000000000000018))
        make_face(mode=Mode.SUBTRACT)
    extrude(amount=BOSS_EXTRUDE1_DEPTH, both=True)


solid = part.part
